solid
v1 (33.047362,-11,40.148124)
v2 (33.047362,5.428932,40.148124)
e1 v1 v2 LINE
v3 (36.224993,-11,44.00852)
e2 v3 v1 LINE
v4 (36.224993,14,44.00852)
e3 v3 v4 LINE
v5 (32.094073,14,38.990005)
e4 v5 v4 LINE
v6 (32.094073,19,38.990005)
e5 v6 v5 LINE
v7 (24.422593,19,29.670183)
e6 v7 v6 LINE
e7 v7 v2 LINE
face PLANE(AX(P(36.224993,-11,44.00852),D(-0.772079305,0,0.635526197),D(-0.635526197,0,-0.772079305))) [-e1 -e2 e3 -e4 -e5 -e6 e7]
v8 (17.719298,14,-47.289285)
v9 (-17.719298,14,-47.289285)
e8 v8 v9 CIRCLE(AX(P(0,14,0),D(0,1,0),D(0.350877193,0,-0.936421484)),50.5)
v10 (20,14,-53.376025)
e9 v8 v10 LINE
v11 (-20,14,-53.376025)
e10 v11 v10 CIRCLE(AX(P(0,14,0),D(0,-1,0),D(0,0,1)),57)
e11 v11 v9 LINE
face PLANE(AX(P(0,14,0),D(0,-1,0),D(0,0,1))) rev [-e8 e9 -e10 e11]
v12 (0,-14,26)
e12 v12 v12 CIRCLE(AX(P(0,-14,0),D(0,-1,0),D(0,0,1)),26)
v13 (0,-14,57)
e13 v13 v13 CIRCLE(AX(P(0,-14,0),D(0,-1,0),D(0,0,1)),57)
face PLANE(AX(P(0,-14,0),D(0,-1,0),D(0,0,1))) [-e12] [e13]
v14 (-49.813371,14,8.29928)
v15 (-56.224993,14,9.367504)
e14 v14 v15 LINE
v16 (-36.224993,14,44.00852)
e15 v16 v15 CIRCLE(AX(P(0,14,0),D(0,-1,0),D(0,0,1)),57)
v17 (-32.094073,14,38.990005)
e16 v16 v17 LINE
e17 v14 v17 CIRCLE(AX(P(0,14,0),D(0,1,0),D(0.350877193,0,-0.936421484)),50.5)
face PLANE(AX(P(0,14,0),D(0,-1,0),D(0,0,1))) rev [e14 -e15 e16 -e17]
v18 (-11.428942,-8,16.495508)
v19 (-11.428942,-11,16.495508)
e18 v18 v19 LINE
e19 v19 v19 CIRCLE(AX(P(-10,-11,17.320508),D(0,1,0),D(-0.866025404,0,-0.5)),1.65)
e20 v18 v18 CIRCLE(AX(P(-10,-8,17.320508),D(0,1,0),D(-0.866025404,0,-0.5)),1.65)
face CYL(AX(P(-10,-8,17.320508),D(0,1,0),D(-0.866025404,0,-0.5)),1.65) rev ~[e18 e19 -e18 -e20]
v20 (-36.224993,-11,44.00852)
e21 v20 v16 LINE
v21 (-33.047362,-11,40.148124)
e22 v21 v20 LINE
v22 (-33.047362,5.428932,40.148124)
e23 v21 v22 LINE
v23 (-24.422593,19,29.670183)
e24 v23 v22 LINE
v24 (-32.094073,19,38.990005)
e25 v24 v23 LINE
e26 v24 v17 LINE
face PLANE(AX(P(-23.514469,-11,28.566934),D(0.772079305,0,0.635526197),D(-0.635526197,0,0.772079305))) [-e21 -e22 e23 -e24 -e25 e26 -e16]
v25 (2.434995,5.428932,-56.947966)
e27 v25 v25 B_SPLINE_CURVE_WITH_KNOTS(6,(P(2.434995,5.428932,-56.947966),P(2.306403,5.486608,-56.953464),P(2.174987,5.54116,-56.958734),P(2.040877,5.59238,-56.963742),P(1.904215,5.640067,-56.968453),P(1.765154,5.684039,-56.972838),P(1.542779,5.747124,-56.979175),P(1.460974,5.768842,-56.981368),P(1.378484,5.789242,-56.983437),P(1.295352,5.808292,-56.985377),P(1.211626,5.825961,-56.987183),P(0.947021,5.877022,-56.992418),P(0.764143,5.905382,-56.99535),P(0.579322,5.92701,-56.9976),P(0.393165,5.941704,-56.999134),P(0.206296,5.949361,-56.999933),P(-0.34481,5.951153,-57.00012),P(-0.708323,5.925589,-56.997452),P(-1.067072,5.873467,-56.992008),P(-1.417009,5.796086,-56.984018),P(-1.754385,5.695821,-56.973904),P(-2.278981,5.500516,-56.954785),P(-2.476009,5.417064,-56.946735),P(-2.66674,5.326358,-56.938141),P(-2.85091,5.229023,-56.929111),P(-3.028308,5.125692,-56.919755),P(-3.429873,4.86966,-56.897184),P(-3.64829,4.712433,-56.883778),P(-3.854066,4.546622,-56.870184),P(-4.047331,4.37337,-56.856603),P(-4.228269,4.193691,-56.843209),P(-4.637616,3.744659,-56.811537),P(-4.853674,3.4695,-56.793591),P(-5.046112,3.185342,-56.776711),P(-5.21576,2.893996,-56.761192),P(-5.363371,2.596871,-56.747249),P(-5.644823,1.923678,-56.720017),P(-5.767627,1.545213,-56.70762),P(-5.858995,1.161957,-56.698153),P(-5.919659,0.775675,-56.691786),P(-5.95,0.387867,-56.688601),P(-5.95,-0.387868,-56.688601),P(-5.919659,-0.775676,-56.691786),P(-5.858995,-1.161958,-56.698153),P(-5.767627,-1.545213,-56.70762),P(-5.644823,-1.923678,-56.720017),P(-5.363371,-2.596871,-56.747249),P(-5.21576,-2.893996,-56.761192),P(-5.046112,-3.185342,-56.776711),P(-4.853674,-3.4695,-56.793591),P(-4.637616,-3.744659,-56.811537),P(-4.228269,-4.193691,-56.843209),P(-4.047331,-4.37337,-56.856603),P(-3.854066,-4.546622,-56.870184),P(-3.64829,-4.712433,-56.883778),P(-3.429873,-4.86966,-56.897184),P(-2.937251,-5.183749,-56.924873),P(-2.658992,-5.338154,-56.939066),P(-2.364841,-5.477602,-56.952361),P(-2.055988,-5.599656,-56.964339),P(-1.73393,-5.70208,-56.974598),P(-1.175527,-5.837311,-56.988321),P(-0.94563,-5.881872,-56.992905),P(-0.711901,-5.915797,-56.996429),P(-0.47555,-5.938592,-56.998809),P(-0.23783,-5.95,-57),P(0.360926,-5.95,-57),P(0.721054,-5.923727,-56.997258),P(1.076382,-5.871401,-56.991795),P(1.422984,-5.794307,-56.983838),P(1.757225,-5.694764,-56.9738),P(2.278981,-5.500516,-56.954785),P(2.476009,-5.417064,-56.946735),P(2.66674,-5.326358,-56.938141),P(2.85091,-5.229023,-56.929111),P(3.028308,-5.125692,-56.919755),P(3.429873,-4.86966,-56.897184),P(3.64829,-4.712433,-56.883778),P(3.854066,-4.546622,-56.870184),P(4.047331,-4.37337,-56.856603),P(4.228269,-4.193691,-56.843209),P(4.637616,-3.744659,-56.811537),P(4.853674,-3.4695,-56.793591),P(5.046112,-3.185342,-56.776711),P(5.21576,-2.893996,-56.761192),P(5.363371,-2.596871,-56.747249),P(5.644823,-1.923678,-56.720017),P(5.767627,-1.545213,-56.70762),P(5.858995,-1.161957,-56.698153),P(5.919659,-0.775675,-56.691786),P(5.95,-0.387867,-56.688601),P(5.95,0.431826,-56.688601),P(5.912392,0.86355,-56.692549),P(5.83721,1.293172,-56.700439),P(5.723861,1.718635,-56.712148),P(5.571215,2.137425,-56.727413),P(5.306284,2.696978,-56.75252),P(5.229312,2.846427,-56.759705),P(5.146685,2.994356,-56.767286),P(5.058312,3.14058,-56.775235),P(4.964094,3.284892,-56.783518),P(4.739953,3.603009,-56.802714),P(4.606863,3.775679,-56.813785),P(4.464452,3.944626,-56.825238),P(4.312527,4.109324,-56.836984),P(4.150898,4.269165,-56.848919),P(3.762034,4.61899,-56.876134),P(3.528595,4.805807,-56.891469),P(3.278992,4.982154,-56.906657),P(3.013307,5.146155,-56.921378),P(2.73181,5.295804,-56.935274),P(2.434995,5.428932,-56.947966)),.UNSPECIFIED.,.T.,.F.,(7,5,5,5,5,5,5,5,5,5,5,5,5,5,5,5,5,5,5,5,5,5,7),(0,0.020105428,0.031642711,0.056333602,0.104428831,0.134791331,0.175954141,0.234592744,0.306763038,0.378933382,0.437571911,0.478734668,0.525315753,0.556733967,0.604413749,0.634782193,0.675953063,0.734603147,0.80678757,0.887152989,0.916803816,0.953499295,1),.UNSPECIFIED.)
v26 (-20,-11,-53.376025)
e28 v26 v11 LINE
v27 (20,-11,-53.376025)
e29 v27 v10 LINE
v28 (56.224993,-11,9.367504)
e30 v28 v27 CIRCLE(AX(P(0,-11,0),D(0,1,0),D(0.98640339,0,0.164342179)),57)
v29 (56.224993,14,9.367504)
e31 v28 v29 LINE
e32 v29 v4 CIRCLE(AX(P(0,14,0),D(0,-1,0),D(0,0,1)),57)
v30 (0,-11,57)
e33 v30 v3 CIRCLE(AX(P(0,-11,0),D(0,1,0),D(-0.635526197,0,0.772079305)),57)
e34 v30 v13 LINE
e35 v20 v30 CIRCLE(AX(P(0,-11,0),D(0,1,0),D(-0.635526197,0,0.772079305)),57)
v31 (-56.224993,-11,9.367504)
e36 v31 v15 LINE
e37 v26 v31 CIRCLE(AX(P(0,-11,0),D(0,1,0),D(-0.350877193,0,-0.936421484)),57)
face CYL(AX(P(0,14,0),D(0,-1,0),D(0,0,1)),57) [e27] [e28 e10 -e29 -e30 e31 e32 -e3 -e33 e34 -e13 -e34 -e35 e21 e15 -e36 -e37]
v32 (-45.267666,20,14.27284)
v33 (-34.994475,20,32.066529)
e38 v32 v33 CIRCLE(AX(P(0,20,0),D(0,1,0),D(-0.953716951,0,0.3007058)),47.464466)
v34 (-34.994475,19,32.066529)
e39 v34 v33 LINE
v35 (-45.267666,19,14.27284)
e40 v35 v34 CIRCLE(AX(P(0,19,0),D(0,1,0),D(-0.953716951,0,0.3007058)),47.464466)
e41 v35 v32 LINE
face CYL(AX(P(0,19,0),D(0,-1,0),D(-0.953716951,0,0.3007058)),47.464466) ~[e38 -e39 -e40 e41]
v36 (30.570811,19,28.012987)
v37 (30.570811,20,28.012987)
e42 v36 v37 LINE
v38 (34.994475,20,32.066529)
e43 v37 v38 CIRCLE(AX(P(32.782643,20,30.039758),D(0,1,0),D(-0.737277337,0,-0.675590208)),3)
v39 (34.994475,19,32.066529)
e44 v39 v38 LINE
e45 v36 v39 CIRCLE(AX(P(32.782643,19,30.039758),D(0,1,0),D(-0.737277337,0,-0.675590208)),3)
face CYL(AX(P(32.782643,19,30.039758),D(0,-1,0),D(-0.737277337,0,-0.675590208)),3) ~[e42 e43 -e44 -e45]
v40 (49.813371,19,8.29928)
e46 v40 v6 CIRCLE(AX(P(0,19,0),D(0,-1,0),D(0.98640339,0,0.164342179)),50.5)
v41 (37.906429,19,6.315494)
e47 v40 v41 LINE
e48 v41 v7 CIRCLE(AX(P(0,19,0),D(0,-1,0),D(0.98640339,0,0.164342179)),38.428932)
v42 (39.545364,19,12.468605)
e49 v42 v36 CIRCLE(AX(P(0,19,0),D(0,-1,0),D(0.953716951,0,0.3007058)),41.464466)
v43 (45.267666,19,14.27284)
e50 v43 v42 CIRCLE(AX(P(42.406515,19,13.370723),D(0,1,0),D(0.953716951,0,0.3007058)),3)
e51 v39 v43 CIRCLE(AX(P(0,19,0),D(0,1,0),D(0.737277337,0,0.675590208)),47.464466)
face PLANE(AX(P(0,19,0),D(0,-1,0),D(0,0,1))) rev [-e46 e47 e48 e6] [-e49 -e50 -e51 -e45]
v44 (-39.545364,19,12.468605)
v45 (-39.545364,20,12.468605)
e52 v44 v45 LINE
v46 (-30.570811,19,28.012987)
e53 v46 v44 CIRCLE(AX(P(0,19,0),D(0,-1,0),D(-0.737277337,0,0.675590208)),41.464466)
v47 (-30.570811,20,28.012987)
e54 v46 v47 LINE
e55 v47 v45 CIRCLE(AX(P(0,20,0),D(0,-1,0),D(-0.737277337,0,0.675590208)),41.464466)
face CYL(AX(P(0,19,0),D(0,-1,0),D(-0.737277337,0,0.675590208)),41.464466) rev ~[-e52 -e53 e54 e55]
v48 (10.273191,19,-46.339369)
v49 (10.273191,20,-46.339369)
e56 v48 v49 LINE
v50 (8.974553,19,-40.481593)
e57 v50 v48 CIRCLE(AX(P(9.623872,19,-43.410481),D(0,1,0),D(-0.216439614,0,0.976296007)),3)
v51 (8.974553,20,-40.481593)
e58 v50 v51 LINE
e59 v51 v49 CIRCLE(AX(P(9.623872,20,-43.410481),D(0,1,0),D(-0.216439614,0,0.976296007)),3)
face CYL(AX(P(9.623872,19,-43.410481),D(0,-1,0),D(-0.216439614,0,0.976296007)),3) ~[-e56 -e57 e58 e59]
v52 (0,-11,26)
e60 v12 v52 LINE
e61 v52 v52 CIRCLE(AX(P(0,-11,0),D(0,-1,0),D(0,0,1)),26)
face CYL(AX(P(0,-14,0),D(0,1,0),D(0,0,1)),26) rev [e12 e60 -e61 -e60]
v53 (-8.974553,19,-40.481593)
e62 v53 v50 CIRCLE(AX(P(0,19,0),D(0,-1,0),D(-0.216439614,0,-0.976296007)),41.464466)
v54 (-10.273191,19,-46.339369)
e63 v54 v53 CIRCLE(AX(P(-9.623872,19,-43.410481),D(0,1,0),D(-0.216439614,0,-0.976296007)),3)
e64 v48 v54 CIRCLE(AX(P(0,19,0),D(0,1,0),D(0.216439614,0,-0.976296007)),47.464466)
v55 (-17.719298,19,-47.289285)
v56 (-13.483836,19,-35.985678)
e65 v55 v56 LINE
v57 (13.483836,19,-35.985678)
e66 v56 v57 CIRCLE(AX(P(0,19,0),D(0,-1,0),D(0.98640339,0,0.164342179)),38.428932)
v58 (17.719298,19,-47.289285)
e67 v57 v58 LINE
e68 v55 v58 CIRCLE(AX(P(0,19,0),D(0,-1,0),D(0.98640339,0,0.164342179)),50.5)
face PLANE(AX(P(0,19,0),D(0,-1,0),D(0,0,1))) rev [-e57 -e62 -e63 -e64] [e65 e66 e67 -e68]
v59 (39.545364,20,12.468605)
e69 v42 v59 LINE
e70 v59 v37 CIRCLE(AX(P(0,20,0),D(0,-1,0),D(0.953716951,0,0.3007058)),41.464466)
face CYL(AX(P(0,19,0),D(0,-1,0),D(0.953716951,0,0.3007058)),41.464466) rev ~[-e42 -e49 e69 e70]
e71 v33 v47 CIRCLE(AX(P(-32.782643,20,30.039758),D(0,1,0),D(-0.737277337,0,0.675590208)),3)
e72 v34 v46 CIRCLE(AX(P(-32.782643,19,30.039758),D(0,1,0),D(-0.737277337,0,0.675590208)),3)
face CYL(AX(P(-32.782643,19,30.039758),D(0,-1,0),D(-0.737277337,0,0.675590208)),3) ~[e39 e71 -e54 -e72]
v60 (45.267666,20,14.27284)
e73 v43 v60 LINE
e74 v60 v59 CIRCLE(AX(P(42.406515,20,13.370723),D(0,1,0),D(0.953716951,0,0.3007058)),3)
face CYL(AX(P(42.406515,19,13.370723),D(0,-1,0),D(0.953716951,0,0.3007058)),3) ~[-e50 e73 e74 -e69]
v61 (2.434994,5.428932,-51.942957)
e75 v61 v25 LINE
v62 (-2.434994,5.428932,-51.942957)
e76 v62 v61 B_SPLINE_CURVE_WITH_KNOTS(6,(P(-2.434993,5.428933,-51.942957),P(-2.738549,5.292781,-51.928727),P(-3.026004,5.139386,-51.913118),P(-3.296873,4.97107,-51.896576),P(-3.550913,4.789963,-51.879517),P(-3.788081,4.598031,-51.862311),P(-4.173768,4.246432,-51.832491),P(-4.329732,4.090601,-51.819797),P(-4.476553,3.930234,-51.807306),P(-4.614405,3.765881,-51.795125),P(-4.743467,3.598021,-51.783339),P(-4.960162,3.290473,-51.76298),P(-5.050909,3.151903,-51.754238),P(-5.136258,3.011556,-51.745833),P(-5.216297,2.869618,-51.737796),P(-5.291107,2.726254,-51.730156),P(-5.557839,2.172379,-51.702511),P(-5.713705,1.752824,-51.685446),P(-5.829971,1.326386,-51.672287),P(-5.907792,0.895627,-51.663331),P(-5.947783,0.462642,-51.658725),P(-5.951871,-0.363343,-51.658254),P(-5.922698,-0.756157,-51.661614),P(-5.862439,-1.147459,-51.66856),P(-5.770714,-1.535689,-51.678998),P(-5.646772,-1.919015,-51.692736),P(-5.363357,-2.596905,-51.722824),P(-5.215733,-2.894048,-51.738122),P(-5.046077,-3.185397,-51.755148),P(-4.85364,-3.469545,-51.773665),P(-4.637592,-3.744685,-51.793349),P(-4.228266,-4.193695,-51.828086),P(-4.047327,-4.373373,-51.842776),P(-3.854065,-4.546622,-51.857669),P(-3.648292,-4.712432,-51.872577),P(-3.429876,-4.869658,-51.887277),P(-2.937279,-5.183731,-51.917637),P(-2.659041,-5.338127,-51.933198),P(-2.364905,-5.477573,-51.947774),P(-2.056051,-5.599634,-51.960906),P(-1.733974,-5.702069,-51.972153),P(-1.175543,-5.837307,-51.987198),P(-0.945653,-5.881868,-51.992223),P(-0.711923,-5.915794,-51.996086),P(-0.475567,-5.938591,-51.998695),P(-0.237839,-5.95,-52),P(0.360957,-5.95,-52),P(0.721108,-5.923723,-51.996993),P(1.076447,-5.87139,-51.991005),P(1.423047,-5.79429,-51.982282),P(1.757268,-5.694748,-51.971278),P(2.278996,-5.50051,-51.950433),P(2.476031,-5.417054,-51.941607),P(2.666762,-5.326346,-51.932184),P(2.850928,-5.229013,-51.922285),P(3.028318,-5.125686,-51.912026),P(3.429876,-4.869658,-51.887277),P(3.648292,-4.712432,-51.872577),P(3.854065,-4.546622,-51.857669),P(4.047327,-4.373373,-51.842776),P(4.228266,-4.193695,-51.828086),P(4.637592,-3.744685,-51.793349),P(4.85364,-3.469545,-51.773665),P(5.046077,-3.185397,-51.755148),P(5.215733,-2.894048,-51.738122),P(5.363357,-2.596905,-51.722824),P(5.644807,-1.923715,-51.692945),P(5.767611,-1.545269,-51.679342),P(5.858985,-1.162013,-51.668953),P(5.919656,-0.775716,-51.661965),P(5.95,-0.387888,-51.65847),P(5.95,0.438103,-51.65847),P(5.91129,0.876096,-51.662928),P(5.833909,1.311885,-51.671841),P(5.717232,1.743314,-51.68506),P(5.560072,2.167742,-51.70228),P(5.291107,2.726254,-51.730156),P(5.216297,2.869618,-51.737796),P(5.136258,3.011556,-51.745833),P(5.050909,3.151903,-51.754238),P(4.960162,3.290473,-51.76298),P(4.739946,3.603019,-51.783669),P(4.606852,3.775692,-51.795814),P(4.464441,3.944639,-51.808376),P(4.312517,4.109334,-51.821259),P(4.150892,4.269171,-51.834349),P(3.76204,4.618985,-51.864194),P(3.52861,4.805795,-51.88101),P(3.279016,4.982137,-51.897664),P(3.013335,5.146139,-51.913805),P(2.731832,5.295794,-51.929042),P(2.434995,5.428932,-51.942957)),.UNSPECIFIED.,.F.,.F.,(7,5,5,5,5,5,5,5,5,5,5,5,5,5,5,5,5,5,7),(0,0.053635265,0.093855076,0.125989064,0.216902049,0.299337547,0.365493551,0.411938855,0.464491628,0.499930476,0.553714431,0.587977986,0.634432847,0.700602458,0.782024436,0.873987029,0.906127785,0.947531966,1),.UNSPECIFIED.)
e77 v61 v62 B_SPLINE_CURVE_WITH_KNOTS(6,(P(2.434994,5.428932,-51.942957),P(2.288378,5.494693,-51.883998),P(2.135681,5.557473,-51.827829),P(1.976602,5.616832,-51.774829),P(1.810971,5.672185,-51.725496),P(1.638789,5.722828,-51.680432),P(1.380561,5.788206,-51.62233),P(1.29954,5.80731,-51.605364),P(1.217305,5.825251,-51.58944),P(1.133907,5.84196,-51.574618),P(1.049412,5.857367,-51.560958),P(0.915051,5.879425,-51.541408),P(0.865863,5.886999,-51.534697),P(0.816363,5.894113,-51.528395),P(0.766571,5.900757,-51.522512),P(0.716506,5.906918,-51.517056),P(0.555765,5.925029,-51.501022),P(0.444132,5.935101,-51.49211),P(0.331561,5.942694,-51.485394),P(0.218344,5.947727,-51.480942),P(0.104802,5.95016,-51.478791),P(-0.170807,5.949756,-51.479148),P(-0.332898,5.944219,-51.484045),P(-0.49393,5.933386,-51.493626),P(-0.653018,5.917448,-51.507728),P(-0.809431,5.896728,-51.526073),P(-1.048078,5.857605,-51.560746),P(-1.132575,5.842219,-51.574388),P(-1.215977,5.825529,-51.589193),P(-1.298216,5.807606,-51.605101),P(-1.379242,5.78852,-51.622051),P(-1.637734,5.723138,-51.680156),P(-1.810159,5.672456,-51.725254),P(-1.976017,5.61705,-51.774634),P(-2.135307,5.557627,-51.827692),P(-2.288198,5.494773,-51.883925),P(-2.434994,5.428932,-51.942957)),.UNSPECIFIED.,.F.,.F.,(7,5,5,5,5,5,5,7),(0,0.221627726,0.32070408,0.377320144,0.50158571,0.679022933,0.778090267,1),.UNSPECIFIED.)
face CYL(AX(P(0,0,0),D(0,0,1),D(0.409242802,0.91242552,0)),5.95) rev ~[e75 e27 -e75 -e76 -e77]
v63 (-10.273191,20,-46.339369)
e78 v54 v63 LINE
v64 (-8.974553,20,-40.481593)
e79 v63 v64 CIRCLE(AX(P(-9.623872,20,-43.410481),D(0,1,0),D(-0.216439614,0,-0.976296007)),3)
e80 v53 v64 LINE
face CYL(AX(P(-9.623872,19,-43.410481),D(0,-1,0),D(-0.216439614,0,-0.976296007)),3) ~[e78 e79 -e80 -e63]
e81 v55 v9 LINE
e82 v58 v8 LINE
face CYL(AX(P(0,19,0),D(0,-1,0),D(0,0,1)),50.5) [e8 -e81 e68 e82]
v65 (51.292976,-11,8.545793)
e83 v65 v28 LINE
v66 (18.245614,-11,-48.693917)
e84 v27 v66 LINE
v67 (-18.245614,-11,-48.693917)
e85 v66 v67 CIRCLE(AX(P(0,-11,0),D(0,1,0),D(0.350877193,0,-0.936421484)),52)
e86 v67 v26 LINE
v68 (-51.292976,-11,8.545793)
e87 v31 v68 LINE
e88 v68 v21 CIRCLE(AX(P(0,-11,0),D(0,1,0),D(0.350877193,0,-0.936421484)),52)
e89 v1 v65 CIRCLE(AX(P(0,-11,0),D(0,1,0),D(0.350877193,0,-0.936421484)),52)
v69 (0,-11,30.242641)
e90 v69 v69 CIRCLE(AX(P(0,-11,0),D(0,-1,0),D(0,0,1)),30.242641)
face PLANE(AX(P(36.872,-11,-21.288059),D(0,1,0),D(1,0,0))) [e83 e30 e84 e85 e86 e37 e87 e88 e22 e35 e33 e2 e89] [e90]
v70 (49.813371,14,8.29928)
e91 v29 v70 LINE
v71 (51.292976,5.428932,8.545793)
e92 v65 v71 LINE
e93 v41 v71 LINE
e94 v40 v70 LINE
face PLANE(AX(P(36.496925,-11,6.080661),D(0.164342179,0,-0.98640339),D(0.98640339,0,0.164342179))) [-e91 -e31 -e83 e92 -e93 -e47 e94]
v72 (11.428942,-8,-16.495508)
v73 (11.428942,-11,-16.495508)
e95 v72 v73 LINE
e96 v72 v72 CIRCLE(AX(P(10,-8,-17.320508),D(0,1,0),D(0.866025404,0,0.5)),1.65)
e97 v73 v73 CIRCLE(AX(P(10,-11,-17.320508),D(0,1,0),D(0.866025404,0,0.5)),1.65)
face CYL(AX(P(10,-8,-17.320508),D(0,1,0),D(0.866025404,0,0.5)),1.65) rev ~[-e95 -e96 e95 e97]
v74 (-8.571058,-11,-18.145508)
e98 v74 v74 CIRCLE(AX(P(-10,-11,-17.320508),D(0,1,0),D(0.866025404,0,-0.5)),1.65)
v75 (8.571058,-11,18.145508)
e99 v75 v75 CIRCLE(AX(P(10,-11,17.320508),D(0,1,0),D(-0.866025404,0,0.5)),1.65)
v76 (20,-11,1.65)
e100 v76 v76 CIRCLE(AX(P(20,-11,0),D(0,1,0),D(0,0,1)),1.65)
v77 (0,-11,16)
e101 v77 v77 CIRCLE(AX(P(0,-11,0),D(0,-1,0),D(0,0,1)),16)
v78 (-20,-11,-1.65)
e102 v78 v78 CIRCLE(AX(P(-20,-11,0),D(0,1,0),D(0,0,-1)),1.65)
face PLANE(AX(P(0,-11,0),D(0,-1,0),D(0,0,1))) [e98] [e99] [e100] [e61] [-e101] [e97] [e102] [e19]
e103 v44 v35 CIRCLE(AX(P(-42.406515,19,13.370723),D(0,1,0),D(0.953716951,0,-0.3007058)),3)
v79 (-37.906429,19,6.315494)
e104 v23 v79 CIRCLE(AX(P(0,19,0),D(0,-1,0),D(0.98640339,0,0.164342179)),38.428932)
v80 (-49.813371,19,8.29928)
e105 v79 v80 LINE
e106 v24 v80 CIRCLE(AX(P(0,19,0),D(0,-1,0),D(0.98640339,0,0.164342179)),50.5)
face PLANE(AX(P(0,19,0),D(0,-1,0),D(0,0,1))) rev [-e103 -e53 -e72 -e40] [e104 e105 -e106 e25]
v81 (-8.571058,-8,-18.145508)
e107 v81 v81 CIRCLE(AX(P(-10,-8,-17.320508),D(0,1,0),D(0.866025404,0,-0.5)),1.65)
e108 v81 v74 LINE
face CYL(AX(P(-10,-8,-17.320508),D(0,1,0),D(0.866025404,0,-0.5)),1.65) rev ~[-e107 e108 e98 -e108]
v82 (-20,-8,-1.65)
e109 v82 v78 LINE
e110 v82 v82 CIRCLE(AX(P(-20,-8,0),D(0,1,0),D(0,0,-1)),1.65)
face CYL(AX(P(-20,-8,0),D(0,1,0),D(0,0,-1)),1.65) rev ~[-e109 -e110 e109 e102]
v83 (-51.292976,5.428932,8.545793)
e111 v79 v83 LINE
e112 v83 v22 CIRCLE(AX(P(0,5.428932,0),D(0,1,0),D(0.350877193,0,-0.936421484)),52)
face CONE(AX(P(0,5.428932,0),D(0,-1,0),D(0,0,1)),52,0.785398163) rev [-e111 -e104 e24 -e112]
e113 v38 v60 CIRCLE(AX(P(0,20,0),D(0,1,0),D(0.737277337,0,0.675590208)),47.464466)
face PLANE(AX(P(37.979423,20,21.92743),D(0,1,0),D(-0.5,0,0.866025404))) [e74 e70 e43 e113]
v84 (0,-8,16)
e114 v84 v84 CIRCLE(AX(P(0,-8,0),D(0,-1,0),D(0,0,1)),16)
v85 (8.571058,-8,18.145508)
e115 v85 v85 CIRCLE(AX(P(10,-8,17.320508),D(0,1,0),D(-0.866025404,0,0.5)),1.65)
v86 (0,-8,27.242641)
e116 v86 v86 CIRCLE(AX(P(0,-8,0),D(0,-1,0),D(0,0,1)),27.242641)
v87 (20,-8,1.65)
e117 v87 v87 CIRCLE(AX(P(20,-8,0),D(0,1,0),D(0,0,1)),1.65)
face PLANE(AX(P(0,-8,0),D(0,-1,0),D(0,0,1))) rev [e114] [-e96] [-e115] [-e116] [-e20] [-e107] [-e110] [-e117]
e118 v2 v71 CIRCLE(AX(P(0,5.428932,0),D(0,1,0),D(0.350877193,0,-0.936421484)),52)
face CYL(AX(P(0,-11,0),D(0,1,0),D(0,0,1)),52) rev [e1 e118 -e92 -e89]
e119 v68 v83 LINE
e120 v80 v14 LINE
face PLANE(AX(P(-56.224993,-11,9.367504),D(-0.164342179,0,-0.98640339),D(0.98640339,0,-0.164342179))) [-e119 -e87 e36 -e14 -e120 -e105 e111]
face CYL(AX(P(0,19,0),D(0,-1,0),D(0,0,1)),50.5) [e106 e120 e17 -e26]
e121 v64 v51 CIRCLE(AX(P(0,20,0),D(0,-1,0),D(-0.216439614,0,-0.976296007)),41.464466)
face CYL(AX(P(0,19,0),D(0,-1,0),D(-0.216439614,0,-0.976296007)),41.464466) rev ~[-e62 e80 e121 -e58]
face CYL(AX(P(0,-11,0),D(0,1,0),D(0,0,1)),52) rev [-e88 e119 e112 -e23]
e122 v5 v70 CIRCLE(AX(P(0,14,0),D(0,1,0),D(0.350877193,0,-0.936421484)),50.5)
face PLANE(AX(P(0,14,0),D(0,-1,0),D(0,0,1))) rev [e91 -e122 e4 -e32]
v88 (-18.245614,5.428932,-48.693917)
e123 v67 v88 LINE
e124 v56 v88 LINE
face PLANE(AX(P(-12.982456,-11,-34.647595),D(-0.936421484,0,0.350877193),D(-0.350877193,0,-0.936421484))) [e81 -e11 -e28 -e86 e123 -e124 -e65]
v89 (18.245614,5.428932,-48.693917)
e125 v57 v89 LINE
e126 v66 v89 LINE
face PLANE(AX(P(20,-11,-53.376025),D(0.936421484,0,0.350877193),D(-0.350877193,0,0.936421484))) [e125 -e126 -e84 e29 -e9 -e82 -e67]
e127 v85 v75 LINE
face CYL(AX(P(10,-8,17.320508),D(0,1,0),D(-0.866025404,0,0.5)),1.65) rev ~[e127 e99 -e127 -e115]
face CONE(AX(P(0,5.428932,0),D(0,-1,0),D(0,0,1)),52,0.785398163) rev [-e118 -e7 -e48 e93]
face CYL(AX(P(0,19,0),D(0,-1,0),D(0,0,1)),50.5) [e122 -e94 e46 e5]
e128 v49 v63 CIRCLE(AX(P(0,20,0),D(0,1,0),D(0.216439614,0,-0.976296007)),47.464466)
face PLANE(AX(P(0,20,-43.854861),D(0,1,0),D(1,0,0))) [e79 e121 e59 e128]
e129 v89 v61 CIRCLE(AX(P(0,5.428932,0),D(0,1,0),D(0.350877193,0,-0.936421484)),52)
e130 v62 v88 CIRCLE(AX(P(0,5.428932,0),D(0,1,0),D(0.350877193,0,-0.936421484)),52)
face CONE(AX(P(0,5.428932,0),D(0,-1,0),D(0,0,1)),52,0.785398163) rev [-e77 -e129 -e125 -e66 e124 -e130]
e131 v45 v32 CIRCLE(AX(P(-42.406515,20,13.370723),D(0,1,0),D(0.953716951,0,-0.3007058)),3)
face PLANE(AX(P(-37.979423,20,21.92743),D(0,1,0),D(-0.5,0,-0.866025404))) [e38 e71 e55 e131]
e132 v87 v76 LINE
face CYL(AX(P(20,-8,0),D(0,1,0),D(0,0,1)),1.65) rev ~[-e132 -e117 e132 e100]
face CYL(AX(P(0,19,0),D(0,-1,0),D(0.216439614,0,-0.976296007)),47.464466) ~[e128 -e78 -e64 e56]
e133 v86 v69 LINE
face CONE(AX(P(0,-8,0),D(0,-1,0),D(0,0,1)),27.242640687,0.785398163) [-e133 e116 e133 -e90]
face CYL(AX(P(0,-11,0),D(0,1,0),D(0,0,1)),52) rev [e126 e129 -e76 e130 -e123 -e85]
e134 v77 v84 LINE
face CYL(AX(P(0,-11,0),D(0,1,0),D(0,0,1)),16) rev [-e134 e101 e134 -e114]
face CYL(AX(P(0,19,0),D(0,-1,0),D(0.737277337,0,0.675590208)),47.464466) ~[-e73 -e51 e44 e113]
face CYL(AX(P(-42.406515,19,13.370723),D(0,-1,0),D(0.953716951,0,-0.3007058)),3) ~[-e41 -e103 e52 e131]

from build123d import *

# Parameters (mm, degrees)
CUT_EXTRUDE1_DEPTH  = 87.011627121
CIRPATTERN1_COUNT   = 3
BOSS_EXTRUDE1_DEPTH = 1
CIRPATTERN2_COUNT   = 3
SKETCH4_R           = 1.65
CUT_EXTRUDE2_DEPTH  = 86.334635407
CIRPATTERN3_COUNT   = 6
SKETCH5_R           = 5.95
CUT_EXTRUDE3_DEPTH  = 84.054199171


with BuildPart() as part:
    # Sketch1 → Revolve1 (revolve)
    with BuildSketch(Plane.XY, mode=Mode.PRIVATE) as revolve1_sk:
        Polygon((50.5, 19), (50.5, 14), (57, 14), (57, -14), (26, -14), (26, -11), (16, -11), (16, -8), (27.242640687, -8), (30.242640687, -11), (52, -11), (52, 5.428932188), (38.428932188, 19), align=None)
    revolve(revolve1_sk.sketch.rotate(Axis((0, 34.277777778, 0), (0, -1, 0)), 90), axis=Axis((0, 34.277777778, 0), (0, -1, 0)))

    # Sketch2 → Cut-Extrude1 (cut, through all)
    with BuildSketch(Plane(origin=(0, -11, 0), x_dir=(1, 0, 0), z_dir=(0, 1, 0))):
        with BuildLine():
            Line((20, 53.37602458), (12.98245614, 34.647594903))
            ThreePointArc((12.98245614, 34.647594903), (32.04293994, 18.5), (36.496925436, -6.08066063))
            Line((36.496925436, -6.08066063), (56.22499324, -9.367504214))
            ThreePointArc((56.22499324, -9.367504214), (49.363448016, 28.5), (20, 53.37602458))
        make_face()
    cut_extrude1 = extrude(amount=CUT_EXTRUDE1_DEPTH, mode=Mode.SUBTRACT)

    # CirPattern1: Cut-Extrude1 ×3 about axis
    cirpattern1_axis = Axis((0, 0, 0), (0, 1, 0))
    for i in range(1, CIRPATTERN1_COUNT):
        add(cut_extrude1.rotate(cirpattern1_axis, i * 360 / CIRPATTERN1_COUNT), mode=Mode.SUBTRACT)

    # Sketch3 → Boss-Extrude1 (add)
    with BuildSketch(Plane(origin=(0, 19, 0), x_dir=(1, 0, 0), z_dir=(0, 1, 0))):
        with BuildLine():
            ThreePointArc((10.273190717, 46.339368728), (0, 47.464466094), (-10.273190717, 46.339368728))
            ThreePointArc((-10.273190717, 46.339368728), (-12.552759897, 42.761161865), (-8.974553034, 40.481592685))
            ThreePointArc((-8.974553034, 40.481592685), (0, 41.464466094), (8.974553034, 40.481592685))
            ThreePointArc((8.974553034, 40.481592685), (12.552759897, 42.761161865), (10.273190717, 46.339368728))
        make_face()
    boss_extrude1 = extrude(amount=BOSS_EXTRUDE1_DEPTH)

    # CirPattern2: Boss-Extrude1 ×3 about axis
    cirpattern2_axis = Axis((0, 0, 0), (0, 1, 0))
    for i in range(1, CIRPATTERN2_COUNT):
        add(boss_extrude1.rotate(cirpattern2_axis, i * 360 / CIRPATTERN2_COUNT))

    # Sketch4 → Cut-Extrude2 (cut, through all)
    with BuildSketch(Plane(origin=(0, -8, 0), x_dir=(1, 0, 0), z_dir=(0, 1, 0))):
        with Locations(Location((20, 0, 0), (0, 0, 270))):
            Circle(SKETCH4_R)
    cut_extrude2 = extrude(amount=-CUT_EXTRUDE2_DEPTH, mode=Mode.SUBTRACT)

    # CirPattern3: Cut-Extrude2 ×6 about axis
    cirpattern3_axis = Axis((0, 0, 0), (0, 1, 0))
    for i in range(1, CIRPATTERN3_COUNT):
        add(cut_extrude2.rotate(cirpattern3_axis, i * 360 / CIRPATTERN3_COUNT), mode=Mode.SUBTRACT)

    # Sketch5 → Cut-Extrude3 (cut, through all)
    with BuildSketch(Plane.XY):
        with Locations(Location((0, 0, 0), (0, 0, 65.842722295))):
            Circle(SKETCH5_R)
    extrude(amount=-CUT_EXTRUDE3_DEPTH, mode=Mode.SUBTRACT)


solid = part.part
